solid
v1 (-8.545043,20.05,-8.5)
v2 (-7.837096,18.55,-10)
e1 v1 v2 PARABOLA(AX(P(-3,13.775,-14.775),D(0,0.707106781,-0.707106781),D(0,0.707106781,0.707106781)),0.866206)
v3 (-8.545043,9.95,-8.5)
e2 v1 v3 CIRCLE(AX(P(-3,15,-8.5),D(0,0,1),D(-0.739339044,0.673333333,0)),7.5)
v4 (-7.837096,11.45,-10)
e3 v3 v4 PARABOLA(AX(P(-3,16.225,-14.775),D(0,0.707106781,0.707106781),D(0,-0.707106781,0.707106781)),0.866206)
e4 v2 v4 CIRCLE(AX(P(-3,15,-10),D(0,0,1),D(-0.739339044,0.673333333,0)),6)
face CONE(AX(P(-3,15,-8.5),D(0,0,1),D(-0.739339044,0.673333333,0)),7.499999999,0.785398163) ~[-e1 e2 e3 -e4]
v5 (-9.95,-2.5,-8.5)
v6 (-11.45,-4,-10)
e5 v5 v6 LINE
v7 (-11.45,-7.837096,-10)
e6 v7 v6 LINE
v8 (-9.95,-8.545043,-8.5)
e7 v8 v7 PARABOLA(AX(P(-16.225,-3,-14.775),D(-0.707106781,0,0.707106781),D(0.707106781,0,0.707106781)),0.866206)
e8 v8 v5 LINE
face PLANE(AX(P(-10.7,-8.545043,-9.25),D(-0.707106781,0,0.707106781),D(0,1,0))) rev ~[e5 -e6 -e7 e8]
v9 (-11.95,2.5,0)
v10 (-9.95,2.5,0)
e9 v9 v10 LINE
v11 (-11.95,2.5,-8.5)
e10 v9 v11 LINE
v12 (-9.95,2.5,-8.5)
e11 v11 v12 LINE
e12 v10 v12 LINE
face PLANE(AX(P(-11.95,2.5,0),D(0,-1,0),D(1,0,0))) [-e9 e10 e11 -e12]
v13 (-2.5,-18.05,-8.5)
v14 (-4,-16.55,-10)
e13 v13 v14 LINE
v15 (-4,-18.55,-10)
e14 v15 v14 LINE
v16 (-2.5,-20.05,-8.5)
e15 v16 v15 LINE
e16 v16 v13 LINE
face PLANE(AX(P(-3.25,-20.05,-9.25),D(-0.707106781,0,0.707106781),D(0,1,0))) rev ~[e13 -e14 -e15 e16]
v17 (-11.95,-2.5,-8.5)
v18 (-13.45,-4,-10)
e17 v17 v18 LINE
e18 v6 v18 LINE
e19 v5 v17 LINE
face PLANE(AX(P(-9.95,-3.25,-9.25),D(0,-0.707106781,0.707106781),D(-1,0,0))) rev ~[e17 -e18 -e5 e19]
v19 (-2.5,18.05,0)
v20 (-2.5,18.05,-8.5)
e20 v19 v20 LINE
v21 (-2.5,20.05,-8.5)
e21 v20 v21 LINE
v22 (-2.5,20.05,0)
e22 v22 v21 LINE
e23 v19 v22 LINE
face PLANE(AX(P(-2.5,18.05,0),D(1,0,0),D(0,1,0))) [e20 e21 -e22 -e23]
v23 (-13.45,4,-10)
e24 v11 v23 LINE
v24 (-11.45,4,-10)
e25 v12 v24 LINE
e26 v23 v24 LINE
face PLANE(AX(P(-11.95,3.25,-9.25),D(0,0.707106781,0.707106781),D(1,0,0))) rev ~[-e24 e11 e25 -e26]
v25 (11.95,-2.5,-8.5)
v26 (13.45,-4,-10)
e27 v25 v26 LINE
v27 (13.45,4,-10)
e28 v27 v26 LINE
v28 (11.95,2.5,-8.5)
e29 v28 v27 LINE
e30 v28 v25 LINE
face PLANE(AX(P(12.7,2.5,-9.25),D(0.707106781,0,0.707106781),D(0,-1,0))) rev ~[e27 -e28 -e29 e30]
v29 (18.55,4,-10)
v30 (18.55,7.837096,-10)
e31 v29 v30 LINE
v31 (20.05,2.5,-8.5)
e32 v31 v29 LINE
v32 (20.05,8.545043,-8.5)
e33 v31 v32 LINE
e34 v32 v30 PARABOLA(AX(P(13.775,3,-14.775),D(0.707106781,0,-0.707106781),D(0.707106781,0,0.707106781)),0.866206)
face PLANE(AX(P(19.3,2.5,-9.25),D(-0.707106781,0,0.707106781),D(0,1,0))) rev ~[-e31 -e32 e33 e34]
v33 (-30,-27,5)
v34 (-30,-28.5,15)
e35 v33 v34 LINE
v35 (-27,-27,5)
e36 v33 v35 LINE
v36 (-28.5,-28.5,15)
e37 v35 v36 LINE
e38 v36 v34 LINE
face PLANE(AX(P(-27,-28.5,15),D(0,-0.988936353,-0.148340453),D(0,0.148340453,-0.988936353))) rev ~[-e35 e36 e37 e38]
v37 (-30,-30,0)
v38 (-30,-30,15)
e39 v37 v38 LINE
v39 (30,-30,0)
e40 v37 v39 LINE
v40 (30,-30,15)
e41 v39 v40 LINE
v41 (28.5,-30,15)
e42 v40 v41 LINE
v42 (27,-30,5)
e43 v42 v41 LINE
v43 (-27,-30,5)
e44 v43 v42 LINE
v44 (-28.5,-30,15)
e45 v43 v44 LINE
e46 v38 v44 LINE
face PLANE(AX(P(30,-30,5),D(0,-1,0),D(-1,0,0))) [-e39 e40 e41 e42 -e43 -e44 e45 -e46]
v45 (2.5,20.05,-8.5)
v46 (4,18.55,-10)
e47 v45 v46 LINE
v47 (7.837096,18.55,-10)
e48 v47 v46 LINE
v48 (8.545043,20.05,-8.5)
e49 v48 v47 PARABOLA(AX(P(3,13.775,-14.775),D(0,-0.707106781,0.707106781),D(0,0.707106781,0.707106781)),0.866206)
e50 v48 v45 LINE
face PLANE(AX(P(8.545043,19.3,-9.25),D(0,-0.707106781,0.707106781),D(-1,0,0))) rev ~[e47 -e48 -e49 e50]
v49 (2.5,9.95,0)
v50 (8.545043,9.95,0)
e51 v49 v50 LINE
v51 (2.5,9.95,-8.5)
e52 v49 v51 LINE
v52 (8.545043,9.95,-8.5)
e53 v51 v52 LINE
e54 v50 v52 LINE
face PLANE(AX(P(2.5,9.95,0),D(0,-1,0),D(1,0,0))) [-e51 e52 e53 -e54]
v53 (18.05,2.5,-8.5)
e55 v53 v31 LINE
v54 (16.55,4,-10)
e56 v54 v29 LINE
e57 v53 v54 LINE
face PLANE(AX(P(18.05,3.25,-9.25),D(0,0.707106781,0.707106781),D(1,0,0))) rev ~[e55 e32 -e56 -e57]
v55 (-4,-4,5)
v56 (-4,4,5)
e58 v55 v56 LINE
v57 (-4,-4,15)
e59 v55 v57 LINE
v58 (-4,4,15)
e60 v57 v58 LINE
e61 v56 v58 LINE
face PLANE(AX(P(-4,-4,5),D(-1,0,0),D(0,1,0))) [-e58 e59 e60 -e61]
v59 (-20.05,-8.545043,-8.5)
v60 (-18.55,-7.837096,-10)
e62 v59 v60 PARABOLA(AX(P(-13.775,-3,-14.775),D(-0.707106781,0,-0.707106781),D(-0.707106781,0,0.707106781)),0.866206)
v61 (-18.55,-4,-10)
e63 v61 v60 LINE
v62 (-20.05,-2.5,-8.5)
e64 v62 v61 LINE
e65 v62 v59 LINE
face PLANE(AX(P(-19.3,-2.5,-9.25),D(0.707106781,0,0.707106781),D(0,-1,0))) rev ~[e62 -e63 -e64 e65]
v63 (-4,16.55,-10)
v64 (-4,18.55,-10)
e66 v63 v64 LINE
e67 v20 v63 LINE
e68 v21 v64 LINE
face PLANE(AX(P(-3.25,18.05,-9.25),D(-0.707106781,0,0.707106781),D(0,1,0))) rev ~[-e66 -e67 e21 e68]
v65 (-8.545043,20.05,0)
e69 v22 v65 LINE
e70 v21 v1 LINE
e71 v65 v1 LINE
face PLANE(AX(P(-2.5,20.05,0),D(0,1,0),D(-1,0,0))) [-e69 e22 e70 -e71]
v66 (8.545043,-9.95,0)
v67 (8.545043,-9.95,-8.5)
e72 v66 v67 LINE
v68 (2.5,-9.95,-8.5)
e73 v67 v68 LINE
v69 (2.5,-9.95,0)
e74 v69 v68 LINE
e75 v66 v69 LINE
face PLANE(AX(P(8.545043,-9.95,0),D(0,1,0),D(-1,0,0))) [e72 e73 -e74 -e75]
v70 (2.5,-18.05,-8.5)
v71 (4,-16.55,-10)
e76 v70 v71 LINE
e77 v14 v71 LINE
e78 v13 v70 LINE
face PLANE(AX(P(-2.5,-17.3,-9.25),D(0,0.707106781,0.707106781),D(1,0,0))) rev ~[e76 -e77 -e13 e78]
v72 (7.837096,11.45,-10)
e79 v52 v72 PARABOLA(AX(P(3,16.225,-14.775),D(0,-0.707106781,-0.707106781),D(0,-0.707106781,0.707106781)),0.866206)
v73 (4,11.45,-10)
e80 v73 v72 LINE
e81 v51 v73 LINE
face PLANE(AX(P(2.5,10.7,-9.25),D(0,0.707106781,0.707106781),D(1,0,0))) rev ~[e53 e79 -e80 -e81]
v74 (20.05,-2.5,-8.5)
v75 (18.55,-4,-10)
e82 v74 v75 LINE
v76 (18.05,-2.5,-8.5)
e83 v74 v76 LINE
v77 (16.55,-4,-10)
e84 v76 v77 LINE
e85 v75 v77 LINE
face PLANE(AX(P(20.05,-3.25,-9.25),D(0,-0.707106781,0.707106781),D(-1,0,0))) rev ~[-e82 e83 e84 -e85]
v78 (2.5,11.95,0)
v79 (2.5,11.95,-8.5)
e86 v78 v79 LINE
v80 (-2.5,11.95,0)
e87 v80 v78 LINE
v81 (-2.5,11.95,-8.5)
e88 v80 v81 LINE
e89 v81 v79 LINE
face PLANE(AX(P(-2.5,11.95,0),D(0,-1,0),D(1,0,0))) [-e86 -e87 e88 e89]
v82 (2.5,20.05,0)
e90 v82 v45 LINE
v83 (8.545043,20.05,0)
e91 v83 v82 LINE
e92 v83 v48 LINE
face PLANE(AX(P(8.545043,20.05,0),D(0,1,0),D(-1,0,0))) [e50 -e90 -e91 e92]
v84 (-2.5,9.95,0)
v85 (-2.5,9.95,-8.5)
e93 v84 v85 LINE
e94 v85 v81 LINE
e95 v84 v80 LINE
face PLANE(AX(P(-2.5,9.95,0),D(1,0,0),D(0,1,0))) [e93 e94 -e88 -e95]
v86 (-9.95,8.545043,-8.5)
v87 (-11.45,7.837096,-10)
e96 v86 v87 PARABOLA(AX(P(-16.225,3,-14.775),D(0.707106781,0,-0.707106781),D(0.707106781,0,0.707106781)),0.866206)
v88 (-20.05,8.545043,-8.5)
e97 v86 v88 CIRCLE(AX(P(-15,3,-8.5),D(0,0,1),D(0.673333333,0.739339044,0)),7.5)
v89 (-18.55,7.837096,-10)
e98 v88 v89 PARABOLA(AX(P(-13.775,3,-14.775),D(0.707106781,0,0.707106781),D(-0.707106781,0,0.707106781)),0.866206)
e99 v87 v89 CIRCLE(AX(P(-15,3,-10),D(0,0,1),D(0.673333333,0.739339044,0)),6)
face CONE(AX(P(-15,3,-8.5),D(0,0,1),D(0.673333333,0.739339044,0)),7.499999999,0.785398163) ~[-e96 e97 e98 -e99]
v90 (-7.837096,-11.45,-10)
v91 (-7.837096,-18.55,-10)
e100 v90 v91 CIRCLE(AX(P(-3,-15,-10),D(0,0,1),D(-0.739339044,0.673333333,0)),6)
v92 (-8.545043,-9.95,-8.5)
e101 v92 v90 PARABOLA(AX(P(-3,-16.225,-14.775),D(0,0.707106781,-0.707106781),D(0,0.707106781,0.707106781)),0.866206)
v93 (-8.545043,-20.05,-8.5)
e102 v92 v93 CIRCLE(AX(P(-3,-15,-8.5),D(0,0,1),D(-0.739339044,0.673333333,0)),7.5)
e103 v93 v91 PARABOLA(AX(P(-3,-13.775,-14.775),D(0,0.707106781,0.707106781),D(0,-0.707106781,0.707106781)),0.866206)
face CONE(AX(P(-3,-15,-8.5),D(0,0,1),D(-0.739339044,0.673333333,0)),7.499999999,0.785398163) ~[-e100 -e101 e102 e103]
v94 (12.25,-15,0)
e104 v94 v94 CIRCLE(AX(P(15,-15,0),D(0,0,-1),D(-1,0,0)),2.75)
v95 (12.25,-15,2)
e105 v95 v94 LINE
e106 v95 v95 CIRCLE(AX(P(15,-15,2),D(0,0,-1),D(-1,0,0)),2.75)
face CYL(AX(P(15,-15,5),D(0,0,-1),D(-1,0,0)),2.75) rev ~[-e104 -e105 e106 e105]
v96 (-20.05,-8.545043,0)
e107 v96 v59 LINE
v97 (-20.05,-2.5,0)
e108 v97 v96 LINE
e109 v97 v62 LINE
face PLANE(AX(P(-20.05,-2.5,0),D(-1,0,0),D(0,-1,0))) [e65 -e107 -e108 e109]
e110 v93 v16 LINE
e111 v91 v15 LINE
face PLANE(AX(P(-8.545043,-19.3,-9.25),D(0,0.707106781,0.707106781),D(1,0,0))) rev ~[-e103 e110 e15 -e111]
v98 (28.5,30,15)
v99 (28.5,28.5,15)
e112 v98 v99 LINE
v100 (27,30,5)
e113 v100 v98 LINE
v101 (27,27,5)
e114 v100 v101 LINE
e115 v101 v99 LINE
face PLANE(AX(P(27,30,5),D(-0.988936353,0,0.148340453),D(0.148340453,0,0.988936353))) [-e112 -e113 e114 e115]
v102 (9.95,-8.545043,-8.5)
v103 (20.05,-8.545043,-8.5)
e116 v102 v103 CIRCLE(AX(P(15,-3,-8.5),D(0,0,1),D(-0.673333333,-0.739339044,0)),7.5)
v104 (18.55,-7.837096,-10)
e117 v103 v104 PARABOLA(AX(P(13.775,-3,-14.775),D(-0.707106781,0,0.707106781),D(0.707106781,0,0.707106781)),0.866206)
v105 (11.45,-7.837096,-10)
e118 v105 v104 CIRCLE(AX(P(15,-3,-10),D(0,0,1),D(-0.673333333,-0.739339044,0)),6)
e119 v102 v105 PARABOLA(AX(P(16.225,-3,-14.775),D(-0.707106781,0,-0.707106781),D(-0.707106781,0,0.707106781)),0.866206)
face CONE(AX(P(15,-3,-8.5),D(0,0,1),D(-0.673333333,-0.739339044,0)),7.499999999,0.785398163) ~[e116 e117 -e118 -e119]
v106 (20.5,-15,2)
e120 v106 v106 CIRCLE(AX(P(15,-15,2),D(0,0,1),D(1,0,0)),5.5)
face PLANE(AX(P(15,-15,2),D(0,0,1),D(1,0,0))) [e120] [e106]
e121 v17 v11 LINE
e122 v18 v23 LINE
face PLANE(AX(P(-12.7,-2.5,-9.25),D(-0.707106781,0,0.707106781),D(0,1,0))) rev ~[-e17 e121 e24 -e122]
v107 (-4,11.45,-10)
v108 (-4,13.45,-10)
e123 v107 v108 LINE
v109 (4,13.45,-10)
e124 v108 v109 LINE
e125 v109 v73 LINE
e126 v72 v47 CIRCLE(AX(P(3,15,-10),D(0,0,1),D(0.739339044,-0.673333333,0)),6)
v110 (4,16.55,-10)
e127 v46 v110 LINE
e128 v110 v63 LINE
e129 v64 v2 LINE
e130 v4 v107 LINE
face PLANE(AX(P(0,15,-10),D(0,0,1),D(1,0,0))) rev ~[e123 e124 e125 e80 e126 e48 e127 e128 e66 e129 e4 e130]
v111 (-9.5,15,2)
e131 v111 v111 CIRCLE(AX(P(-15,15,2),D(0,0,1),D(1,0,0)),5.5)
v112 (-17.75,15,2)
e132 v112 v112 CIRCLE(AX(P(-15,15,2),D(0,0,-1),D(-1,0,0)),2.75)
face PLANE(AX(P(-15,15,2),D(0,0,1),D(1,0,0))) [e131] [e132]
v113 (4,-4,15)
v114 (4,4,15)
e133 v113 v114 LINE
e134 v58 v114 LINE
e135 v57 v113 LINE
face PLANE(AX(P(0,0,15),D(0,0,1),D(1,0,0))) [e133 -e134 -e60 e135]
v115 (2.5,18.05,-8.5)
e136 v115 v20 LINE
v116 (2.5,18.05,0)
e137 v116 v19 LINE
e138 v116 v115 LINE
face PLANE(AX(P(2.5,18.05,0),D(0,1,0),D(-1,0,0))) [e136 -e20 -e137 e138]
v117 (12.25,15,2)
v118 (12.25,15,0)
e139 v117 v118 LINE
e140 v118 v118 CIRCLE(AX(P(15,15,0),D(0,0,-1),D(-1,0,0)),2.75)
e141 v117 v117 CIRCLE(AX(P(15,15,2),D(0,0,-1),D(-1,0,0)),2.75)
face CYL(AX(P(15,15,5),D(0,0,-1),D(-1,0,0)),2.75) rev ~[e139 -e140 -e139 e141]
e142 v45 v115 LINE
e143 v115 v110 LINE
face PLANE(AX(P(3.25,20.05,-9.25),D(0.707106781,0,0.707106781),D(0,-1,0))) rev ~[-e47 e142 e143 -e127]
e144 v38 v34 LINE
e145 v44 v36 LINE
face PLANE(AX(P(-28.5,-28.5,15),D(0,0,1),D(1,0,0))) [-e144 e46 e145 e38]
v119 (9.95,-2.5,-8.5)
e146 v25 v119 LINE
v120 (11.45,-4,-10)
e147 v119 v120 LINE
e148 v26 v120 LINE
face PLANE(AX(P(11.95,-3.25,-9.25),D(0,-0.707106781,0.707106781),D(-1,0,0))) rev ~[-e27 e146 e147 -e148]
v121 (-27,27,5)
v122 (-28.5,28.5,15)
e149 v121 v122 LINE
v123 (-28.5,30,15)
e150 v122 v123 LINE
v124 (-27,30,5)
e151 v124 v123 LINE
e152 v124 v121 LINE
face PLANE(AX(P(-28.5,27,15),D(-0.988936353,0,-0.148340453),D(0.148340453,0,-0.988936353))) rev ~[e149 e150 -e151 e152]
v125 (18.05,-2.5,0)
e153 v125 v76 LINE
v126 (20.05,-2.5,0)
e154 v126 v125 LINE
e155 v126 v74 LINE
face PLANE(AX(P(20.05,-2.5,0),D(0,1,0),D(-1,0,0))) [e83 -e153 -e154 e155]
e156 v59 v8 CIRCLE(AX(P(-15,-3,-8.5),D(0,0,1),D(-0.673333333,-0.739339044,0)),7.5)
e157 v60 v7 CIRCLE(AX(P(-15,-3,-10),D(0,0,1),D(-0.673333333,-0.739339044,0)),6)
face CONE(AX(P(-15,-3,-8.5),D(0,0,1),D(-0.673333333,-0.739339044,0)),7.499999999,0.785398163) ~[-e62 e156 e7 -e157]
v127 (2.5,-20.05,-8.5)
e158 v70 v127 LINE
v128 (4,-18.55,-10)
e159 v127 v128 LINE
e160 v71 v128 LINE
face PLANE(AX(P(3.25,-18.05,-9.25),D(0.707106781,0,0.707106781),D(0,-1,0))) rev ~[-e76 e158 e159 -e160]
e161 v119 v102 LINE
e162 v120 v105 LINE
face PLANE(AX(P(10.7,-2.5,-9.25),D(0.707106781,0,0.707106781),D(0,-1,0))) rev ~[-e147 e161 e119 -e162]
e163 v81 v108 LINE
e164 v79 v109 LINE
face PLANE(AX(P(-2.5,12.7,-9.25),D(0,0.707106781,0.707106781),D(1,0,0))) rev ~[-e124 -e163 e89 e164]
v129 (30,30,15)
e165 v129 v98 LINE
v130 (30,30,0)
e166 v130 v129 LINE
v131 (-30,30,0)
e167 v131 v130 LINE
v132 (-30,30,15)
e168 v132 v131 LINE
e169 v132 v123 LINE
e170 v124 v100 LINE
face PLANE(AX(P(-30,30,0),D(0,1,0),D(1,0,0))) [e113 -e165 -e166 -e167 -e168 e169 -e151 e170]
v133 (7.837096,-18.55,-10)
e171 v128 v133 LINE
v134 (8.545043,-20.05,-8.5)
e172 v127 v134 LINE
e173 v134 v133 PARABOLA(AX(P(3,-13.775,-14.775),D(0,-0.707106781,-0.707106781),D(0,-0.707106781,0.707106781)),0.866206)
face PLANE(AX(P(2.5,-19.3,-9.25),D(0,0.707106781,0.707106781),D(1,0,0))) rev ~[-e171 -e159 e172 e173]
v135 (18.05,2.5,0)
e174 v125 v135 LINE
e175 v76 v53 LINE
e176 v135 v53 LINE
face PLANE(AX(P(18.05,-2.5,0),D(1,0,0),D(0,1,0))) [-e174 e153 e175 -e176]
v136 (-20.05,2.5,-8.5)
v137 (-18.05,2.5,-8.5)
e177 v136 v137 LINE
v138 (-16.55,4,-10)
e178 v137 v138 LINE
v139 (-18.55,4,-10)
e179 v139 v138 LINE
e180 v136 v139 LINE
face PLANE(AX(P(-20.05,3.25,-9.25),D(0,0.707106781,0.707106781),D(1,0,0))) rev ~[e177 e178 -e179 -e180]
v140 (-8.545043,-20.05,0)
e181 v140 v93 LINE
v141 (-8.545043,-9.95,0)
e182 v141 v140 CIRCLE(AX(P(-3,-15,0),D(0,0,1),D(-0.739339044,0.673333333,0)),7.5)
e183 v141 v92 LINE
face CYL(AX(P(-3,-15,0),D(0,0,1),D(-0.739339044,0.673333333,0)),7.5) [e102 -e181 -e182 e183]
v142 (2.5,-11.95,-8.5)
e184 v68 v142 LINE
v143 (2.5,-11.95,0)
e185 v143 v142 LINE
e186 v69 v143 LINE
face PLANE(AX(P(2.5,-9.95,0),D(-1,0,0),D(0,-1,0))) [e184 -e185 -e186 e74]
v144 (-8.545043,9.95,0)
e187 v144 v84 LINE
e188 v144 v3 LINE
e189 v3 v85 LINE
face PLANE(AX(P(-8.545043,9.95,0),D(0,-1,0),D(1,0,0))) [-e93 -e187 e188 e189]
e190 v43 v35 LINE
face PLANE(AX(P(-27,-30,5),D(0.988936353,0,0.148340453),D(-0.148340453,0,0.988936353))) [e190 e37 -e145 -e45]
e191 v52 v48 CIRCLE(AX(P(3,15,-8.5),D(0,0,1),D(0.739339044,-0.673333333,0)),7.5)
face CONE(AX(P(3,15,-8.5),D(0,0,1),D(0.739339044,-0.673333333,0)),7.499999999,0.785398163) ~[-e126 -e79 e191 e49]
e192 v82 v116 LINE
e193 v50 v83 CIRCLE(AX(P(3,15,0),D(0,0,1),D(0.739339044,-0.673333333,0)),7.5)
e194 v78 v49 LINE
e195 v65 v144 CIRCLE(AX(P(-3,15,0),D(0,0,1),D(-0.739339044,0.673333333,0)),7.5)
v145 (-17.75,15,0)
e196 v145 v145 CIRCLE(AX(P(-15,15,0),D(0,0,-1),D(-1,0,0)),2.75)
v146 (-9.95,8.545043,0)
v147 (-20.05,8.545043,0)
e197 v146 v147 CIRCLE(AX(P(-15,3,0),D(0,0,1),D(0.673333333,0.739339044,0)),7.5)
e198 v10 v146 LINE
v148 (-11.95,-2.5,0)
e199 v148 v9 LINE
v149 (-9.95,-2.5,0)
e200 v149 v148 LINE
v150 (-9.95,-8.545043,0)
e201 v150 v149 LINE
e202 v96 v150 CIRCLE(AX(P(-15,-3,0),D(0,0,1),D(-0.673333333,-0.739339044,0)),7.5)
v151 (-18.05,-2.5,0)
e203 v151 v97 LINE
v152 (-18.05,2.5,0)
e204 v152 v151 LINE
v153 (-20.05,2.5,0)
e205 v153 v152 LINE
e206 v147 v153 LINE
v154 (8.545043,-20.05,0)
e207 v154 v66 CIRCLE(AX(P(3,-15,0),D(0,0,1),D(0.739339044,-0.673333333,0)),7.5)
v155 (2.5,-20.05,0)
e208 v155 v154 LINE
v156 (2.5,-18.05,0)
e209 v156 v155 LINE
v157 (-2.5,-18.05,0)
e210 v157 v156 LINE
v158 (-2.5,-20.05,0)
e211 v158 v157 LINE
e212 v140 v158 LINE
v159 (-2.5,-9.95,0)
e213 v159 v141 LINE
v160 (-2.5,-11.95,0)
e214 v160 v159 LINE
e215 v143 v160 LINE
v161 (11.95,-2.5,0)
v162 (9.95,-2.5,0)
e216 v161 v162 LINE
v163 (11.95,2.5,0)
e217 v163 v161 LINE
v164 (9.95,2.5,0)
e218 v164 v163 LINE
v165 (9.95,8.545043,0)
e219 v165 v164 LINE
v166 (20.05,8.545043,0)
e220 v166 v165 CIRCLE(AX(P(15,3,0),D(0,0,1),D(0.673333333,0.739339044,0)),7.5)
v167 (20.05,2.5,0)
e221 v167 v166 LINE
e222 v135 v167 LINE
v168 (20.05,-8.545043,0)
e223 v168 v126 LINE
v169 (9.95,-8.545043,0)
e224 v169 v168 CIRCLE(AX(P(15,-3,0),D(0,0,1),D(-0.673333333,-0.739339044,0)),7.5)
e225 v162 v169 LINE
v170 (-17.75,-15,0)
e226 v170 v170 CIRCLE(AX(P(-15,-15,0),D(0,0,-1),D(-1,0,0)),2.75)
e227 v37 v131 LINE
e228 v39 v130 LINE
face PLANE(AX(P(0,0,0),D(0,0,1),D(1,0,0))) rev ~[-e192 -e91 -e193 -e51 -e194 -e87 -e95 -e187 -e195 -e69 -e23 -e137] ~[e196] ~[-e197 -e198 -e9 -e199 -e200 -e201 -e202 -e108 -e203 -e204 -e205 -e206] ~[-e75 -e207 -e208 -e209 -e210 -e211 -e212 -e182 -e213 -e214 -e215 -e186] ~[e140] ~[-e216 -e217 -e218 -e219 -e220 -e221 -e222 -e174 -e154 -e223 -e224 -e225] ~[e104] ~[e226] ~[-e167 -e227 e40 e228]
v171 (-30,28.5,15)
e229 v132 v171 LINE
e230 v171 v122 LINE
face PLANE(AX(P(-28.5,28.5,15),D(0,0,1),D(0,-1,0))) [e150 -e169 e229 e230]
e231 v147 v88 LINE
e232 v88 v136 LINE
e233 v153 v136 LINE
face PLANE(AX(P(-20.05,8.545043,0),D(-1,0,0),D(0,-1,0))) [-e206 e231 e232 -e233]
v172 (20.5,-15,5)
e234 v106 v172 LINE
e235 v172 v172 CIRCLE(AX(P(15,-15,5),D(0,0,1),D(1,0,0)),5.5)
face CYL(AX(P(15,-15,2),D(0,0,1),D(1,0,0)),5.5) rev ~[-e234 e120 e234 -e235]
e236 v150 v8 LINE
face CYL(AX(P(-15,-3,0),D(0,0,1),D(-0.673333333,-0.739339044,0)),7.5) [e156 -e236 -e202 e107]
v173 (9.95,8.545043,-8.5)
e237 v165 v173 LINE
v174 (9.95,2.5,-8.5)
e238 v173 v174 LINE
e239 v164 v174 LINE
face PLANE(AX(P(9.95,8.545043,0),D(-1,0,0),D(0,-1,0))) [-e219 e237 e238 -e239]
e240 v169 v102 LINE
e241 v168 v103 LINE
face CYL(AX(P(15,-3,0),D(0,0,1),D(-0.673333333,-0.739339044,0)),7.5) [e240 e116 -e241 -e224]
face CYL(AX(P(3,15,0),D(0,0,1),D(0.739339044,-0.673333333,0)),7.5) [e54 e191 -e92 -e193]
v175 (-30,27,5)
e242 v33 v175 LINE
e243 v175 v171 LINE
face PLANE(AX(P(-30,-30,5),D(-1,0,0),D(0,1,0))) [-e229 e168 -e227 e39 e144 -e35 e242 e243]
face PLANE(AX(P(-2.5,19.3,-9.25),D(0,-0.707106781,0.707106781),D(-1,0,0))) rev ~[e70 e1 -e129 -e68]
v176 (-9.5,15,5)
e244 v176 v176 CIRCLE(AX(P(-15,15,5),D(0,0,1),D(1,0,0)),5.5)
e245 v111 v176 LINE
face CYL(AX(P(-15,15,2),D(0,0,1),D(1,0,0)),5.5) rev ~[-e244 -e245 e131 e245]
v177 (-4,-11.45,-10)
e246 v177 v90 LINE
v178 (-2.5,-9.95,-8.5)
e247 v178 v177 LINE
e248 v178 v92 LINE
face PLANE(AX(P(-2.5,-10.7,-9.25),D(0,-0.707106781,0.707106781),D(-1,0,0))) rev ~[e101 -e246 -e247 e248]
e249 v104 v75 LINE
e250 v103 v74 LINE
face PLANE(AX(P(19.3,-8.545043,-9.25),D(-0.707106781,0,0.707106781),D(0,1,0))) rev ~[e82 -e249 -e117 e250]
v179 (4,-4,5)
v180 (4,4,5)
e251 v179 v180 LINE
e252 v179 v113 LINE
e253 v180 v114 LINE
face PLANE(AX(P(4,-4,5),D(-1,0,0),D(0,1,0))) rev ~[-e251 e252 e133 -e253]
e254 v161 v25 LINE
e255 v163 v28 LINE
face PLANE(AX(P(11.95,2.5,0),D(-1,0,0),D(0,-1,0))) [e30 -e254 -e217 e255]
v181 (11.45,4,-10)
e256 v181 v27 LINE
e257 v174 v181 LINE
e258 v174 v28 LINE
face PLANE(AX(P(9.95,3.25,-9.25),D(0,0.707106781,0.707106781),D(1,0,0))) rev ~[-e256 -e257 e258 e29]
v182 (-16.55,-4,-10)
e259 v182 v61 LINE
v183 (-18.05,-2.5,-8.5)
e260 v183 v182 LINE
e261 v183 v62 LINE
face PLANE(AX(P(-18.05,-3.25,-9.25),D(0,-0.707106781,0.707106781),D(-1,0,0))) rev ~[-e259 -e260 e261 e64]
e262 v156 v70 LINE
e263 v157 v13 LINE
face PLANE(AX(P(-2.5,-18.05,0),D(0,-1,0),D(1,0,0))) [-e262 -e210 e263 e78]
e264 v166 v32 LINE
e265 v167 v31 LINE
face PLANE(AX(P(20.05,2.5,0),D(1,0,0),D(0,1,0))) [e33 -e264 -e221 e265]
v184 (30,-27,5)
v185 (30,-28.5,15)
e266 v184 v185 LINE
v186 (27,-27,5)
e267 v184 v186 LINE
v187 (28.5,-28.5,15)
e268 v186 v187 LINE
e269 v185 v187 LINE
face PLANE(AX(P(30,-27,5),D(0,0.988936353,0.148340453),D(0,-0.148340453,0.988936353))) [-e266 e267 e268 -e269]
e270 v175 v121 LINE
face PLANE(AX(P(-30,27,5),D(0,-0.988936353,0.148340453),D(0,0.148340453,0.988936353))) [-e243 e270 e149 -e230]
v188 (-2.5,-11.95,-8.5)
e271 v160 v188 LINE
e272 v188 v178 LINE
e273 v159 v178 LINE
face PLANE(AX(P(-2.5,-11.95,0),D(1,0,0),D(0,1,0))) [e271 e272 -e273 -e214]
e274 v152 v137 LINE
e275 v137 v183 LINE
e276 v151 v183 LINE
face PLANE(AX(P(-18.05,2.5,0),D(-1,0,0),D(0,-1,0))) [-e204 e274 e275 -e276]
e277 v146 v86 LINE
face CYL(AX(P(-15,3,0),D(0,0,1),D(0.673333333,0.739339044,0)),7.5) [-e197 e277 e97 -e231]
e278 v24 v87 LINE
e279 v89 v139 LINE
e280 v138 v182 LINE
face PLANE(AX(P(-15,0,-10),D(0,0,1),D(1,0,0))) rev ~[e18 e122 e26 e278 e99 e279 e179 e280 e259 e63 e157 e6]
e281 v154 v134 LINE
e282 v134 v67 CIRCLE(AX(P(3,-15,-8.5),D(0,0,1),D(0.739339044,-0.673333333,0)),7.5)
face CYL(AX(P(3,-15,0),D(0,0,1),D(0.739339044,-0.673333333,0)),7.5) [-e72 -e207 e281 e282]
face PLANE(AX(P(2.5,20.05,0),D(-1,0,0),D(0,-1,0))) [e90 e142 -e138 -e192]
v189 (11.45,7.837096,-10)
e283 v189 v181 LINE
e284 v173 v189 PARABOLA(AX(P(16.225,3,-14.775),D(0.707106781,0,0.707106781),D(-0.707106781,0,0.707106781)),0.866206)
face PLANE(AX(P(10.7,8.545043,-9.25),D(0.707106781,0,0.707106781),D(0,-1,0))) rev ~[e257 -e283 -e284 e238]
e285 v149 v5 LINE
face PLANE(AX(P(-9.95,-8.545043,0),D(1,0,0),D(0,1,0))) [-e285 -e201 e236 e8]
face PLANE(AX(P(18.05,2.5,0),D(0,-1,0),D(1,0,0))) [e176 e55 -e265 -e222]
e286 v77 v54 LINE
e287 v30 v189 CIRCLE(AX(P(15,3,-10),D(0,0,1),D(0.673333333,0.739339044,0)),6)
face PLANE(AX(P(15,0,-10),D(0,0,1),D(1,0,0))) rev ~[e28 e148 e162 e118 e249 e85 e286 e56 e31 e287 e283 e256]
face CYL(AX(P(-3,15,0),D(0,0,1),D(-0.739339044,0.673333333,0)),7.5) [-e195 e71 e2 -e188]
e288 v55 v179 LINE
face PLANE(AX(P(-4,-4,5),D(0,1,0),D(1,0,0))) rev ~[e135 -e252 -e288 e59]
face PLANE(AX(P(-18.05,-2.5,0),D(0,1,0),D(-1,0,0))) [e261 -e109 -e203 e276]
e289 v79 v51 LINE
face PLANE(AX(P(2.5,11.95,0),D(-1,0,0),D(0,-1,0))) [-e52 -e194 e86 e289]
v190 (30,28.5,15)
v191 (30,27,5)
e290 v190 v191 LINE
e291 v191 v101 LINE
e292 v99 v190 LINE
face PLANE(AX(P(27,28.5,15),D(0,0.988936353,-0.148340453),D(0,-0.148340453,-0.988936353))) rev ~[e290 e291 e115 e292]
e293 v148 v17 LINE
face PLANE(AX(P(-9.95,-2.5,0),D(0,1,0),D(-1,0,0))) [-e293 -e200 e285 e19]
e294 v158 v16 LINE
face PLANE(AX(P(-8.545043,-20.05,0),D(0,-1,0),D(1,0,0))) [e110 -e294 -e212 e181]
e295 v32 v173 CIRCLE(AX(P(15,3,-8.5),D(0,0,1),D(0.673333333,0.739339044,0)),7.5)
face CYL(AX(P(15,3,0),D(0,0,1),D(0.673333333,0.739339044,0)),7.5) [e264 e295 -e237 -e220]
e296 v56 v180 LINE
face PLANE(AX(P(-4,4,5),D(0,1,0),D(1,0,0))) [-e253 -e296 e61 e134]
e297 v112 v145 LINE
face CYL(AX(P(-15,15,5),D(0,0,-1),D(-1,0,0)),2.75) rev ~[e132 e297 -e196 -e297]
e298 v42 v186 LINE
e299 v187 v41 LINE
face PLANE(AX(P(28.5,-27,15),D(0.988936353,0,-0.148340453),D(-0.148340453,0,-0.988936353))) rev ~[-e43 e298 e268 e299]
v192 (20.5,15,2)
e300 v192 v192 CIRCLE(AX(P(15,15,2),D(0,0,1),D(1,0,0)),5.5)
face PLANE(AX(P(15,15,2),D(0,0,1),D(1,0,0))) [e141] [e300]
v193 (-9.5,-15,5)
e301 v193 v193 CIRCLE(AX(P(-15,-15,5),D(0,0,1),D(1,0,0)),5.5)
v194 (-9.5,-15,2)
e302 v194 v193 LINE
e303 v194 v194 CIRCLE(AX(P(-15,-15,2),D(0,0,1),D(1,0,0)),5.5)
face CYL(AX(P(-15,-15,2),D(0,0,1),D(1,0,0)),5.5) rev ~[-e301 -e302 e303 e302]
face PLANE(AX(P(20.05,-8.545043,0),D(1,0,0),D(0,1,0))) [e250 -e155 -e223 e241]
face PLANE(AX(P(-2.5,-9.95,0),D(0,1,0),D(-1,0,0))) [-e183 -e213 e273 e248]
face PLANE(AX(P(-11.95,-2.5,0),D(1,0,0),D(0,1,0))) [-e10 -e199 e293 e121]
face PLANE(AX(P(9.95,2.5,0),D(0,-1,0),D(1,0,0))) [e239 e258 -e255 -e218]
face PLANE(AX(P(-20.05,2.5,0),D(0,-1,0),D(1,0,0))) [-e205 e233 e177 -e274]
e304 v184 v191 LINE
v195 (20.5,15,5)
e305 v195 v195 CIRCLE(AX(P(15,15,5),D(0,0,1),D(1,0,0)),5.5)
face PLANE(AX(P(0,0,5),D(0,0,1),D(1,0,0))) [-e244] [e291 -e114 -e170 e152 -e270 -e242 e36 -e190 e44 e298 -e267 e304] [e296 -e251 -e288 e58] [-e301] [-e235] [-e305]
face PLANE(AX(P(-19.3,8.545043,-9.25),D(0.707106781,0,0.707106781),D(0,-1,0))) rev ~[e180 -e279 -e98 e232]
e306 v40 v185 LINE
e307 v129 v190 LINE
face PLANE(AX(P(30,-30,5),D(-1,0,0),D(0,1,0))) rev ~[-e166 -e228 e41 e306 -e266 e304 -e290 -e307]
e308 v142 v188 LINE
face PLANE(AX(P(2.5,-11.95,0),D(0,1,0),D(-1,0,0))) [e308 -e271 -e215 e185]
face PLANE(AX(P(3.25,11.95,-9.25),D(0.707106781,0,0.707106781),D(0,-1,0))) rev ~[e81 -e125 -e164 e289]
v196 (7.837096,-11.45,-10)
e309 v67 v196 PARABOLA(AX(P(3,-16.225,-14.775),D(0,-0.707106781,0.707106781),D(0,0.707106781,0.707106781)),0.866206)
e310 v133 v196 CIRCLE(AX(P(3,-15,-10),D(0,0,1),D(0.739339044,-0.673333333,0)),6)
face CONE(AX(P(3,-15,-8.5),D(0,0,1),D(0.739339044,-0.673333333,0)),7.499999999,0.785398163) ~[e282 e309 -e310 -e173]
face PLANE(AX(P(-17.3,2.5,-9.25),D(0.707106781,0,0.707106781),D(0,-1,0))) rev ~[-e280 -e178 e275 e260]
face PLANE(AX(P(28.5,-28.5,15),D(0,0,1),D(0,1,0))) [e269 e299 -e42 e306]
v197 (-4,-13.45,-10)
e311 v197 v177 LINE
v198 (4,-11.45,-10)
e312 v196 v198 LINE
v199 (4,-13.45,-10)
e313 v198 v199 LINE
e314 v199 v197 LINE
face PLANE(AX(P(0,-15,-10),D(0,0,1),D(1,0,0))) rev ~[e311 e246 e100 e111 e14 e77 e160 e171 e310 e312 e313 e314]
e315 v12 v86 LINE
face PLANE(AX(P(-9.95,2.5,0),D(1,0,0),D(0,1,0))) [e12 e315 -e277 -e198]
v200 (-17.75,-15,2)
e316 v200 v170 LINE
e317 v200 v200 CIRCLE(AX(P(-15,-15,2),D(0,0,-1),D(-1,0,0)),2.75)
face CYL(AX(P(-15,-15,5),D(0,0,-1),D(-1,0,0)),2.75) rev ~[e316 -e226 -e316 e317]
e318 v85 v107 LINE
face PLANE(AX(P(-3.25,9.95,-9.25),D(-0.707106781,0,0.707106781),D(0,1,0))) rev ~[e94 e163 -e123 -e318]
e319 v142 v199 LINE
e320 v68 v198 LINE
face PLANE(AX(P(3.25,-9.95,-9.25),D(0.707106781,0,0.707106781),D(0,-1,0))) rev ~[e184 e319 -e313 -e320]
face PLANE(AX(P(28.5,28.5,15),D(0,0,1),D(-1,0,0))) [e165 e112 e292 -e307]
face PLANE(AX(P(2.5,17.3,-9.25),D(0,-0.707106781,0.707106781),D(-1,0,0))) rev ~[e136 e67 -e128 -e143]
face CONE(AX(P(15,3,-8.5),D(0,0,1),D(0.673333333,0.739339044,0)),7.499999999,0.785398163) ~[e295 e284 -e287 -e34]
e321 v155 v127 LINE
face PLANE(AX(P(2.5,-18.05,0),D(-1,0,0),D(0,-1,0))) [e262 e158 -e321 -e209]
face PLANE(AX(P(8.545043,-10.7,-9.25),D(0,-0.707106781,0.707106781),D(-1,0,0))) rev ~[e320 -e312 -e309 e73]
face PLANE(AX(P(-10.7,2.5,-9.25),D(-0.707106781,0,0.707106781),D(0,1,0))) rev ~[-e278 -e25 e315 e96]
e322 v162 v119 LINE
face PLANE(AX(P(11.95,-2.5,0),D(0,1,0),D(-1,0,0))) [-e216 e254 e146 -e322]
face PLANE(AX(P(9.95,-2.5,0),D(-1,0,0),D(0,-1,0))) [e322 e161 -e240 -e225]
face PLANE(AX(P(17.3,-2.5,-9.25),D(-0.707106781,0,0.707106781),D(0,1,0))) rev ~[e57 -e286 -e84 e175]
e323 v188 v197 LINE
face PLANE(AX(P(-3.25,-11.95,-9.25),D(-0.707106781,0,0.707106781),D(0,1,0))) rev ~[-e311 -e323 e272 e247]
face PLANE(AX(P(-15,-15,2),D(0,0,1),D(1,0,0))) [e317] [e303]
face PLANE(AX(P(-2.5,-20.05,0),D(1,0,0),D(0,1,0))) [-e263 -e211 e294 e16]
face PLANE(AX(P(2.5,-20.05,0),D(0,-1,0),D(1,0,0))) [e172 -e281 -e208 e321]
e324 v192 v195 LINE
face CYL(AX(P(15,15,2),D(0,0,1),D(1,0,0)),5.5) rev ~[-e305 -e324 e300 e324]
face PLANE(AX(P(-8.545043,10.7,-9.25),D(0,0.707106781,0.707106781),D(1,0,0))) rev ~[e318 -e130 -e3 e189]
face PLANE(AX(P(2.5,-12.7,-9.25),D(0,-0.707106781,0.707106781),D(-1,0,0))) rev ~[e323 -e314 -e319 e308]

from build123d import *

# Parameters (mm, degrees)
SKETCH_1_W                   = 60
SKETCH_1_H                   = 60
EXTRUDE_1_DEPTH              = 5
SKETCH_3_W                   = 3
SKETCH_3_H                   = 3
EXTRUDE_3_DEPTH              = 10
CUT_EXTRUDE_1_DEPTH          = 67.136223055
CUT_EXTRUDE_2_DEPTH          = 10
PATTERN_CIRCULAR_1_COUNT     = 4
HOLE_WIZARD_M5_2_D           = 5.5
HOLE_WIZARD_M5_2_CBORE_D     = 11
HOLE_WIZARD_M5_2_CBORE_DEPTH = 3
EXTRUDE_4_DEPTH              = 10
CHAMFER_1_SIZE               = 1.5
SKETCH_10_W                  = 8
SKETCH_10_H                  = 8
EXTRUDE_5_DEPTH              = 10


with BuildPart() as part:
    # 스케치1 → 보스-돌출1 (new body)
    with BuildSketch(Plane.XY):
        Rectangle(SKETCH_1_W, SKETCH_1_H)
    extrude(amount=EXTRUDE_1_DEPTH)

    # 스케치3 → 보스-돌출3 (add)
    with BuildSketch(Plane.XY.offset(5)):
        with Locations((-28.5, -28.5)):
            Rectangle(SKETCH_3_W, SKETCH_3_H)
    extrude_3 = extrude(amount=EXTRUDE_3_DEPTH)

    # 스케치4 → 컷-돌출1 (cut, through all)
    with BuildSketch(Plane(origin=(-27, 0, 0), x_dir=(0, 0, -1), z_dir=(1, 0, 0))):
        Polygon((-15, -27), (-15, -28.5), (-5, -27), align=None)
    cut_extrude_1 = extrude(amount=-CUT_EXTRUDE_1_DEPTH, mode=Mode.SUBTRACT)

    # 스케치5 → 컷-돌출2 (cut)
    with BuildSketch(Plane.XZ.offset(30)):
        Polygon((-28.5, 15), (-27, 15), (-27, 5), align=None)
    cut_extrude_2 = extrude(amount=-CUT_EXTRUDE_2_DEPTH, mode=Mode.SUBTRACT)

    # 원형 패턴1: 보스-돌출3, 컷-돌출1, 컷-돌출2 ×4 about axis
    pattern_circular_1_axis = Axis((0, 0, 0), (0, 0, 1))
    add([extrude_3.rotate(pattern_circular_1_axis, i * 360 / PATTERN_CIRCULAR_1_COUNT) for i in range(1, PATTERN_CIRCULAR_1_COUNT)])
    add([cut_extrude_1.rotate(pattern_circular_1_axis, i * 360 / PATTERN_CIRCULAR_1_COUNT) for i in range(1, PATTERN_CIRCULAR_1_COUNT)], mode=Mode.SUBTRACT)
    add([cut_extrude_2.rotate(pattern_circular_1_axis, i * 360 / PATTERN_CIRCULAR_1_COUNT) for i in range(1, PATTERN_CIRCULAR_1_COUNT)], mode=Mode.SUBTRACT)

    # M5 소켓 머리 캡 나사용 카운터보어2 (through all)
    with Locations(Plane.XY.offset(5)):
        with Locations((-15, 15), (15, 15), (15, -15), (-15, -15)):
            CounterBoreHole(HOLE_WIZARD_M5_2_D / 2, HOLE_WIZARD_M5_2_CBORE_D / 2, HOLE_WIZARD_M5_2_CBORE_DEPTH)

    # 스케치9 → 보스-돌출4 (add)
    with BuildSketch(Plane(origin=(0, 0, 0), x_dir=(-1, 0, 0), z_dir=(0, 0, -1))):
        with BuildLine():
            Line((-20.05, 2.5), (-20.05, 8.545042831))
            ThreePointArc((-20.05, 8.545042831), (-15, 10.5), (-9.95, 8.545042831))
            Line((-9.95, 8.545042831), (-9.95, 2.5))
            Line((-9.95, 2.5), (-11.95, 2.5))
            Line((-11.95, 2.5), (-11.95, -2.5))
            Line((-11.95, -2.5), (-9.95, -2.5))
            Line((-9.95, -2.5), (-9.95, -8.545042831))
            ThreePointArc((-9.95, -8.545042831), (-15, -10.5), (-20.05, -8.545042831))
            Line((-20.05, -8.545042831), (-20.05, -2.5))
            Line((-20.05, -2.5), (-18.05, -2.5))
            Line((-18.05, -2.5), (-18.05, 2.5))
            Line((-18.05, 2.5), (-20.05, 2.5))
        make_face()
        with BuildLine():
            Line((2.5, 20.05), (8.545042831, 20.05))
            ThreePointArc((8.545042831, 20.05), (10.5, 15), (8.545042831, 9.95))
            Line((8.545042831, 9.95), (2.5, 9.95))
            Line((2.5, 9.95), (2.5, 11.95))
            Line((2.5, 11.95), (-2.5, 11.95))
            Line((-2.5, 11.95), (-2.5, 9.95))
            Line((-2.5, 9.95), (-8.545042831, 9.95))
            ThreePointArc((-8.545042831, 9.95), (-10.5, 15), (-8.545042831, 20.05))
            Line((-8.545042831, 20.05), (-2.5, 20.05))
            Line((-2.5, 20.05), (-2.5, 18.05))
            Line((-2.5, 18.05), (2.5, 18.05))
            Line((2.5, 18.05), (2.5, 20.05))
        make_face()
        with BuildLine():
            Line((20.05, -2.5), (20.05, -8.545042831))
            ThreePointArc((20.05, -8.545042831), (15, -10.5), (9.95, -8.545042831))
            Line((9.95, -8.545042831), (9.95, -2.5))
            Line((9.95, -2.5), (11.95, -2.5))
            Line((11.95, -2.5), (11.95, 2.5))
            Line((11.95, 2.5), (9.95, 2.5))
            Line((9.95, 2.5), (9.95, 8.545042831))
            ThreePointArc((9.95, 8.545042831), (15, 10.5), (20.05, 8.545042831))
            Line((20.05, 8.545042831), (20.05, 2.5))
            Line((20.05, 2.5), (18.05, 2.5))
            Line((18.05, 2.5), (18.05, -2.5))
            Line((18.05, -2.5), (20.05, -2.5))
        make_face()
        with BuildLine():
            Line((-2.5, -20.05), (-8.545042831, -20.05))
            ThreePointArc((-8.545042831, -20.05), (-10.5, -15), (-8.545042831, -9.95))
            Line((-8.545042831, -9.95), (-2.5, -9.95))
            Line((-2.5, -9.95), (-2.5, -11.95))
            Line((-2.5, -11.95), (2.5, -11.95))
            Line((2.5, -11.95), (2.5, -9.95))
            Line((2.5, -9.95), (8.545042831, -9.95))
            ThreePointArc((8.545042831, -9.95), (10.5, -15), (8.545042831, -20.05))
            Line((8.545042831, -20.05), (2.5, -20.05))
            Line((2.5, -20.05), (2.5, -18.05))
            Line((2.5, -18.05), (-2.5, -18.05))
            Line((-2.5, -18.05), (-2.5, -20.05))
        make_face()
    extrude(amount=EXTRUDE_4_DEPTH)

    # 모따기1
    chamfer_1_edges = [part.edges().sort_by_distance(p)[0] for p in [
        (15, -10.5, -10),
        (9.95, -5.522521416, -10),
        (10.95, -2.5, -10),
        (11.95, 0, -10),
        (10.95, 2.5, -10),
        (9.95, 5.522521416, -10),
        (15, 10.5, -10),
        (20.05, 5.522521416, -10),
        (19.05, 2.5, -10),
        (18.05, 0, -10),
        (19.05, -2.5, -10),
        (20.05, -5.522521416, -10),
        (10.5, 15, -10),
        (5.522521416, 9.95, -10),
        (2.5, 10.95, -10),
        (0, 11.95, -10),
        (-2.5, 10.95, -10),
        (-5.522521416, 9.95, -10),
        (-10.5, 15, -10),
        (-5.522521416, 20.05, -10),
        (-2.5, 19.05, -10),
        (0, 18.05, -10),
        (2.5, 19.05, -10),
        (5.522521416, 20.05, -10),
        (-15, 10.5, -10),
        (-9.95, 5.522521416, -10),
        (-10.95, 2.5, -10),
        (-11.95, 0, -10),
        (-10.95, -2.5, -10),
        (-9.95, -5.522521416, -10),
        (-15, -10.5, -10),
        (-20.05, -5.522521416, -10),
        (-19.05, -2.5, -10),
        (-18.05, 0, -10),
        (-19.05, 2.5, -10),
        (-20.05, 5.522521416, -10),
        (-10.5, -15, -10),
        (-5.522521416, -9.95, -10),
        (-2.5, -10.95, -10),
        (0, -11.95, -10),
        (2.5, -10.95, -10),
        (5.522521416, -9.95, -10),
        (10.5, -15, -10),
        (5.522521416, -20.05, -10),
        (2.5, -19.05, -10),
        (0, -18.05, -10),
        (-2.5, -19.05, -10),
        (-5.522521416, -20.05, -10),
    ]]
    chamfer(chamfer_1_edges, length=CHAMFER_1_SIZE)

    # 스케치10 → 보스-돌출5 (add)
    with BuildSketch(Plane.XY.offset(5)):
        Rectangle(SKETCH_10_W, SKETCH_10_H)
    extrude(amount=EXTRUDE_5_DEPTH)


solid = part.part
